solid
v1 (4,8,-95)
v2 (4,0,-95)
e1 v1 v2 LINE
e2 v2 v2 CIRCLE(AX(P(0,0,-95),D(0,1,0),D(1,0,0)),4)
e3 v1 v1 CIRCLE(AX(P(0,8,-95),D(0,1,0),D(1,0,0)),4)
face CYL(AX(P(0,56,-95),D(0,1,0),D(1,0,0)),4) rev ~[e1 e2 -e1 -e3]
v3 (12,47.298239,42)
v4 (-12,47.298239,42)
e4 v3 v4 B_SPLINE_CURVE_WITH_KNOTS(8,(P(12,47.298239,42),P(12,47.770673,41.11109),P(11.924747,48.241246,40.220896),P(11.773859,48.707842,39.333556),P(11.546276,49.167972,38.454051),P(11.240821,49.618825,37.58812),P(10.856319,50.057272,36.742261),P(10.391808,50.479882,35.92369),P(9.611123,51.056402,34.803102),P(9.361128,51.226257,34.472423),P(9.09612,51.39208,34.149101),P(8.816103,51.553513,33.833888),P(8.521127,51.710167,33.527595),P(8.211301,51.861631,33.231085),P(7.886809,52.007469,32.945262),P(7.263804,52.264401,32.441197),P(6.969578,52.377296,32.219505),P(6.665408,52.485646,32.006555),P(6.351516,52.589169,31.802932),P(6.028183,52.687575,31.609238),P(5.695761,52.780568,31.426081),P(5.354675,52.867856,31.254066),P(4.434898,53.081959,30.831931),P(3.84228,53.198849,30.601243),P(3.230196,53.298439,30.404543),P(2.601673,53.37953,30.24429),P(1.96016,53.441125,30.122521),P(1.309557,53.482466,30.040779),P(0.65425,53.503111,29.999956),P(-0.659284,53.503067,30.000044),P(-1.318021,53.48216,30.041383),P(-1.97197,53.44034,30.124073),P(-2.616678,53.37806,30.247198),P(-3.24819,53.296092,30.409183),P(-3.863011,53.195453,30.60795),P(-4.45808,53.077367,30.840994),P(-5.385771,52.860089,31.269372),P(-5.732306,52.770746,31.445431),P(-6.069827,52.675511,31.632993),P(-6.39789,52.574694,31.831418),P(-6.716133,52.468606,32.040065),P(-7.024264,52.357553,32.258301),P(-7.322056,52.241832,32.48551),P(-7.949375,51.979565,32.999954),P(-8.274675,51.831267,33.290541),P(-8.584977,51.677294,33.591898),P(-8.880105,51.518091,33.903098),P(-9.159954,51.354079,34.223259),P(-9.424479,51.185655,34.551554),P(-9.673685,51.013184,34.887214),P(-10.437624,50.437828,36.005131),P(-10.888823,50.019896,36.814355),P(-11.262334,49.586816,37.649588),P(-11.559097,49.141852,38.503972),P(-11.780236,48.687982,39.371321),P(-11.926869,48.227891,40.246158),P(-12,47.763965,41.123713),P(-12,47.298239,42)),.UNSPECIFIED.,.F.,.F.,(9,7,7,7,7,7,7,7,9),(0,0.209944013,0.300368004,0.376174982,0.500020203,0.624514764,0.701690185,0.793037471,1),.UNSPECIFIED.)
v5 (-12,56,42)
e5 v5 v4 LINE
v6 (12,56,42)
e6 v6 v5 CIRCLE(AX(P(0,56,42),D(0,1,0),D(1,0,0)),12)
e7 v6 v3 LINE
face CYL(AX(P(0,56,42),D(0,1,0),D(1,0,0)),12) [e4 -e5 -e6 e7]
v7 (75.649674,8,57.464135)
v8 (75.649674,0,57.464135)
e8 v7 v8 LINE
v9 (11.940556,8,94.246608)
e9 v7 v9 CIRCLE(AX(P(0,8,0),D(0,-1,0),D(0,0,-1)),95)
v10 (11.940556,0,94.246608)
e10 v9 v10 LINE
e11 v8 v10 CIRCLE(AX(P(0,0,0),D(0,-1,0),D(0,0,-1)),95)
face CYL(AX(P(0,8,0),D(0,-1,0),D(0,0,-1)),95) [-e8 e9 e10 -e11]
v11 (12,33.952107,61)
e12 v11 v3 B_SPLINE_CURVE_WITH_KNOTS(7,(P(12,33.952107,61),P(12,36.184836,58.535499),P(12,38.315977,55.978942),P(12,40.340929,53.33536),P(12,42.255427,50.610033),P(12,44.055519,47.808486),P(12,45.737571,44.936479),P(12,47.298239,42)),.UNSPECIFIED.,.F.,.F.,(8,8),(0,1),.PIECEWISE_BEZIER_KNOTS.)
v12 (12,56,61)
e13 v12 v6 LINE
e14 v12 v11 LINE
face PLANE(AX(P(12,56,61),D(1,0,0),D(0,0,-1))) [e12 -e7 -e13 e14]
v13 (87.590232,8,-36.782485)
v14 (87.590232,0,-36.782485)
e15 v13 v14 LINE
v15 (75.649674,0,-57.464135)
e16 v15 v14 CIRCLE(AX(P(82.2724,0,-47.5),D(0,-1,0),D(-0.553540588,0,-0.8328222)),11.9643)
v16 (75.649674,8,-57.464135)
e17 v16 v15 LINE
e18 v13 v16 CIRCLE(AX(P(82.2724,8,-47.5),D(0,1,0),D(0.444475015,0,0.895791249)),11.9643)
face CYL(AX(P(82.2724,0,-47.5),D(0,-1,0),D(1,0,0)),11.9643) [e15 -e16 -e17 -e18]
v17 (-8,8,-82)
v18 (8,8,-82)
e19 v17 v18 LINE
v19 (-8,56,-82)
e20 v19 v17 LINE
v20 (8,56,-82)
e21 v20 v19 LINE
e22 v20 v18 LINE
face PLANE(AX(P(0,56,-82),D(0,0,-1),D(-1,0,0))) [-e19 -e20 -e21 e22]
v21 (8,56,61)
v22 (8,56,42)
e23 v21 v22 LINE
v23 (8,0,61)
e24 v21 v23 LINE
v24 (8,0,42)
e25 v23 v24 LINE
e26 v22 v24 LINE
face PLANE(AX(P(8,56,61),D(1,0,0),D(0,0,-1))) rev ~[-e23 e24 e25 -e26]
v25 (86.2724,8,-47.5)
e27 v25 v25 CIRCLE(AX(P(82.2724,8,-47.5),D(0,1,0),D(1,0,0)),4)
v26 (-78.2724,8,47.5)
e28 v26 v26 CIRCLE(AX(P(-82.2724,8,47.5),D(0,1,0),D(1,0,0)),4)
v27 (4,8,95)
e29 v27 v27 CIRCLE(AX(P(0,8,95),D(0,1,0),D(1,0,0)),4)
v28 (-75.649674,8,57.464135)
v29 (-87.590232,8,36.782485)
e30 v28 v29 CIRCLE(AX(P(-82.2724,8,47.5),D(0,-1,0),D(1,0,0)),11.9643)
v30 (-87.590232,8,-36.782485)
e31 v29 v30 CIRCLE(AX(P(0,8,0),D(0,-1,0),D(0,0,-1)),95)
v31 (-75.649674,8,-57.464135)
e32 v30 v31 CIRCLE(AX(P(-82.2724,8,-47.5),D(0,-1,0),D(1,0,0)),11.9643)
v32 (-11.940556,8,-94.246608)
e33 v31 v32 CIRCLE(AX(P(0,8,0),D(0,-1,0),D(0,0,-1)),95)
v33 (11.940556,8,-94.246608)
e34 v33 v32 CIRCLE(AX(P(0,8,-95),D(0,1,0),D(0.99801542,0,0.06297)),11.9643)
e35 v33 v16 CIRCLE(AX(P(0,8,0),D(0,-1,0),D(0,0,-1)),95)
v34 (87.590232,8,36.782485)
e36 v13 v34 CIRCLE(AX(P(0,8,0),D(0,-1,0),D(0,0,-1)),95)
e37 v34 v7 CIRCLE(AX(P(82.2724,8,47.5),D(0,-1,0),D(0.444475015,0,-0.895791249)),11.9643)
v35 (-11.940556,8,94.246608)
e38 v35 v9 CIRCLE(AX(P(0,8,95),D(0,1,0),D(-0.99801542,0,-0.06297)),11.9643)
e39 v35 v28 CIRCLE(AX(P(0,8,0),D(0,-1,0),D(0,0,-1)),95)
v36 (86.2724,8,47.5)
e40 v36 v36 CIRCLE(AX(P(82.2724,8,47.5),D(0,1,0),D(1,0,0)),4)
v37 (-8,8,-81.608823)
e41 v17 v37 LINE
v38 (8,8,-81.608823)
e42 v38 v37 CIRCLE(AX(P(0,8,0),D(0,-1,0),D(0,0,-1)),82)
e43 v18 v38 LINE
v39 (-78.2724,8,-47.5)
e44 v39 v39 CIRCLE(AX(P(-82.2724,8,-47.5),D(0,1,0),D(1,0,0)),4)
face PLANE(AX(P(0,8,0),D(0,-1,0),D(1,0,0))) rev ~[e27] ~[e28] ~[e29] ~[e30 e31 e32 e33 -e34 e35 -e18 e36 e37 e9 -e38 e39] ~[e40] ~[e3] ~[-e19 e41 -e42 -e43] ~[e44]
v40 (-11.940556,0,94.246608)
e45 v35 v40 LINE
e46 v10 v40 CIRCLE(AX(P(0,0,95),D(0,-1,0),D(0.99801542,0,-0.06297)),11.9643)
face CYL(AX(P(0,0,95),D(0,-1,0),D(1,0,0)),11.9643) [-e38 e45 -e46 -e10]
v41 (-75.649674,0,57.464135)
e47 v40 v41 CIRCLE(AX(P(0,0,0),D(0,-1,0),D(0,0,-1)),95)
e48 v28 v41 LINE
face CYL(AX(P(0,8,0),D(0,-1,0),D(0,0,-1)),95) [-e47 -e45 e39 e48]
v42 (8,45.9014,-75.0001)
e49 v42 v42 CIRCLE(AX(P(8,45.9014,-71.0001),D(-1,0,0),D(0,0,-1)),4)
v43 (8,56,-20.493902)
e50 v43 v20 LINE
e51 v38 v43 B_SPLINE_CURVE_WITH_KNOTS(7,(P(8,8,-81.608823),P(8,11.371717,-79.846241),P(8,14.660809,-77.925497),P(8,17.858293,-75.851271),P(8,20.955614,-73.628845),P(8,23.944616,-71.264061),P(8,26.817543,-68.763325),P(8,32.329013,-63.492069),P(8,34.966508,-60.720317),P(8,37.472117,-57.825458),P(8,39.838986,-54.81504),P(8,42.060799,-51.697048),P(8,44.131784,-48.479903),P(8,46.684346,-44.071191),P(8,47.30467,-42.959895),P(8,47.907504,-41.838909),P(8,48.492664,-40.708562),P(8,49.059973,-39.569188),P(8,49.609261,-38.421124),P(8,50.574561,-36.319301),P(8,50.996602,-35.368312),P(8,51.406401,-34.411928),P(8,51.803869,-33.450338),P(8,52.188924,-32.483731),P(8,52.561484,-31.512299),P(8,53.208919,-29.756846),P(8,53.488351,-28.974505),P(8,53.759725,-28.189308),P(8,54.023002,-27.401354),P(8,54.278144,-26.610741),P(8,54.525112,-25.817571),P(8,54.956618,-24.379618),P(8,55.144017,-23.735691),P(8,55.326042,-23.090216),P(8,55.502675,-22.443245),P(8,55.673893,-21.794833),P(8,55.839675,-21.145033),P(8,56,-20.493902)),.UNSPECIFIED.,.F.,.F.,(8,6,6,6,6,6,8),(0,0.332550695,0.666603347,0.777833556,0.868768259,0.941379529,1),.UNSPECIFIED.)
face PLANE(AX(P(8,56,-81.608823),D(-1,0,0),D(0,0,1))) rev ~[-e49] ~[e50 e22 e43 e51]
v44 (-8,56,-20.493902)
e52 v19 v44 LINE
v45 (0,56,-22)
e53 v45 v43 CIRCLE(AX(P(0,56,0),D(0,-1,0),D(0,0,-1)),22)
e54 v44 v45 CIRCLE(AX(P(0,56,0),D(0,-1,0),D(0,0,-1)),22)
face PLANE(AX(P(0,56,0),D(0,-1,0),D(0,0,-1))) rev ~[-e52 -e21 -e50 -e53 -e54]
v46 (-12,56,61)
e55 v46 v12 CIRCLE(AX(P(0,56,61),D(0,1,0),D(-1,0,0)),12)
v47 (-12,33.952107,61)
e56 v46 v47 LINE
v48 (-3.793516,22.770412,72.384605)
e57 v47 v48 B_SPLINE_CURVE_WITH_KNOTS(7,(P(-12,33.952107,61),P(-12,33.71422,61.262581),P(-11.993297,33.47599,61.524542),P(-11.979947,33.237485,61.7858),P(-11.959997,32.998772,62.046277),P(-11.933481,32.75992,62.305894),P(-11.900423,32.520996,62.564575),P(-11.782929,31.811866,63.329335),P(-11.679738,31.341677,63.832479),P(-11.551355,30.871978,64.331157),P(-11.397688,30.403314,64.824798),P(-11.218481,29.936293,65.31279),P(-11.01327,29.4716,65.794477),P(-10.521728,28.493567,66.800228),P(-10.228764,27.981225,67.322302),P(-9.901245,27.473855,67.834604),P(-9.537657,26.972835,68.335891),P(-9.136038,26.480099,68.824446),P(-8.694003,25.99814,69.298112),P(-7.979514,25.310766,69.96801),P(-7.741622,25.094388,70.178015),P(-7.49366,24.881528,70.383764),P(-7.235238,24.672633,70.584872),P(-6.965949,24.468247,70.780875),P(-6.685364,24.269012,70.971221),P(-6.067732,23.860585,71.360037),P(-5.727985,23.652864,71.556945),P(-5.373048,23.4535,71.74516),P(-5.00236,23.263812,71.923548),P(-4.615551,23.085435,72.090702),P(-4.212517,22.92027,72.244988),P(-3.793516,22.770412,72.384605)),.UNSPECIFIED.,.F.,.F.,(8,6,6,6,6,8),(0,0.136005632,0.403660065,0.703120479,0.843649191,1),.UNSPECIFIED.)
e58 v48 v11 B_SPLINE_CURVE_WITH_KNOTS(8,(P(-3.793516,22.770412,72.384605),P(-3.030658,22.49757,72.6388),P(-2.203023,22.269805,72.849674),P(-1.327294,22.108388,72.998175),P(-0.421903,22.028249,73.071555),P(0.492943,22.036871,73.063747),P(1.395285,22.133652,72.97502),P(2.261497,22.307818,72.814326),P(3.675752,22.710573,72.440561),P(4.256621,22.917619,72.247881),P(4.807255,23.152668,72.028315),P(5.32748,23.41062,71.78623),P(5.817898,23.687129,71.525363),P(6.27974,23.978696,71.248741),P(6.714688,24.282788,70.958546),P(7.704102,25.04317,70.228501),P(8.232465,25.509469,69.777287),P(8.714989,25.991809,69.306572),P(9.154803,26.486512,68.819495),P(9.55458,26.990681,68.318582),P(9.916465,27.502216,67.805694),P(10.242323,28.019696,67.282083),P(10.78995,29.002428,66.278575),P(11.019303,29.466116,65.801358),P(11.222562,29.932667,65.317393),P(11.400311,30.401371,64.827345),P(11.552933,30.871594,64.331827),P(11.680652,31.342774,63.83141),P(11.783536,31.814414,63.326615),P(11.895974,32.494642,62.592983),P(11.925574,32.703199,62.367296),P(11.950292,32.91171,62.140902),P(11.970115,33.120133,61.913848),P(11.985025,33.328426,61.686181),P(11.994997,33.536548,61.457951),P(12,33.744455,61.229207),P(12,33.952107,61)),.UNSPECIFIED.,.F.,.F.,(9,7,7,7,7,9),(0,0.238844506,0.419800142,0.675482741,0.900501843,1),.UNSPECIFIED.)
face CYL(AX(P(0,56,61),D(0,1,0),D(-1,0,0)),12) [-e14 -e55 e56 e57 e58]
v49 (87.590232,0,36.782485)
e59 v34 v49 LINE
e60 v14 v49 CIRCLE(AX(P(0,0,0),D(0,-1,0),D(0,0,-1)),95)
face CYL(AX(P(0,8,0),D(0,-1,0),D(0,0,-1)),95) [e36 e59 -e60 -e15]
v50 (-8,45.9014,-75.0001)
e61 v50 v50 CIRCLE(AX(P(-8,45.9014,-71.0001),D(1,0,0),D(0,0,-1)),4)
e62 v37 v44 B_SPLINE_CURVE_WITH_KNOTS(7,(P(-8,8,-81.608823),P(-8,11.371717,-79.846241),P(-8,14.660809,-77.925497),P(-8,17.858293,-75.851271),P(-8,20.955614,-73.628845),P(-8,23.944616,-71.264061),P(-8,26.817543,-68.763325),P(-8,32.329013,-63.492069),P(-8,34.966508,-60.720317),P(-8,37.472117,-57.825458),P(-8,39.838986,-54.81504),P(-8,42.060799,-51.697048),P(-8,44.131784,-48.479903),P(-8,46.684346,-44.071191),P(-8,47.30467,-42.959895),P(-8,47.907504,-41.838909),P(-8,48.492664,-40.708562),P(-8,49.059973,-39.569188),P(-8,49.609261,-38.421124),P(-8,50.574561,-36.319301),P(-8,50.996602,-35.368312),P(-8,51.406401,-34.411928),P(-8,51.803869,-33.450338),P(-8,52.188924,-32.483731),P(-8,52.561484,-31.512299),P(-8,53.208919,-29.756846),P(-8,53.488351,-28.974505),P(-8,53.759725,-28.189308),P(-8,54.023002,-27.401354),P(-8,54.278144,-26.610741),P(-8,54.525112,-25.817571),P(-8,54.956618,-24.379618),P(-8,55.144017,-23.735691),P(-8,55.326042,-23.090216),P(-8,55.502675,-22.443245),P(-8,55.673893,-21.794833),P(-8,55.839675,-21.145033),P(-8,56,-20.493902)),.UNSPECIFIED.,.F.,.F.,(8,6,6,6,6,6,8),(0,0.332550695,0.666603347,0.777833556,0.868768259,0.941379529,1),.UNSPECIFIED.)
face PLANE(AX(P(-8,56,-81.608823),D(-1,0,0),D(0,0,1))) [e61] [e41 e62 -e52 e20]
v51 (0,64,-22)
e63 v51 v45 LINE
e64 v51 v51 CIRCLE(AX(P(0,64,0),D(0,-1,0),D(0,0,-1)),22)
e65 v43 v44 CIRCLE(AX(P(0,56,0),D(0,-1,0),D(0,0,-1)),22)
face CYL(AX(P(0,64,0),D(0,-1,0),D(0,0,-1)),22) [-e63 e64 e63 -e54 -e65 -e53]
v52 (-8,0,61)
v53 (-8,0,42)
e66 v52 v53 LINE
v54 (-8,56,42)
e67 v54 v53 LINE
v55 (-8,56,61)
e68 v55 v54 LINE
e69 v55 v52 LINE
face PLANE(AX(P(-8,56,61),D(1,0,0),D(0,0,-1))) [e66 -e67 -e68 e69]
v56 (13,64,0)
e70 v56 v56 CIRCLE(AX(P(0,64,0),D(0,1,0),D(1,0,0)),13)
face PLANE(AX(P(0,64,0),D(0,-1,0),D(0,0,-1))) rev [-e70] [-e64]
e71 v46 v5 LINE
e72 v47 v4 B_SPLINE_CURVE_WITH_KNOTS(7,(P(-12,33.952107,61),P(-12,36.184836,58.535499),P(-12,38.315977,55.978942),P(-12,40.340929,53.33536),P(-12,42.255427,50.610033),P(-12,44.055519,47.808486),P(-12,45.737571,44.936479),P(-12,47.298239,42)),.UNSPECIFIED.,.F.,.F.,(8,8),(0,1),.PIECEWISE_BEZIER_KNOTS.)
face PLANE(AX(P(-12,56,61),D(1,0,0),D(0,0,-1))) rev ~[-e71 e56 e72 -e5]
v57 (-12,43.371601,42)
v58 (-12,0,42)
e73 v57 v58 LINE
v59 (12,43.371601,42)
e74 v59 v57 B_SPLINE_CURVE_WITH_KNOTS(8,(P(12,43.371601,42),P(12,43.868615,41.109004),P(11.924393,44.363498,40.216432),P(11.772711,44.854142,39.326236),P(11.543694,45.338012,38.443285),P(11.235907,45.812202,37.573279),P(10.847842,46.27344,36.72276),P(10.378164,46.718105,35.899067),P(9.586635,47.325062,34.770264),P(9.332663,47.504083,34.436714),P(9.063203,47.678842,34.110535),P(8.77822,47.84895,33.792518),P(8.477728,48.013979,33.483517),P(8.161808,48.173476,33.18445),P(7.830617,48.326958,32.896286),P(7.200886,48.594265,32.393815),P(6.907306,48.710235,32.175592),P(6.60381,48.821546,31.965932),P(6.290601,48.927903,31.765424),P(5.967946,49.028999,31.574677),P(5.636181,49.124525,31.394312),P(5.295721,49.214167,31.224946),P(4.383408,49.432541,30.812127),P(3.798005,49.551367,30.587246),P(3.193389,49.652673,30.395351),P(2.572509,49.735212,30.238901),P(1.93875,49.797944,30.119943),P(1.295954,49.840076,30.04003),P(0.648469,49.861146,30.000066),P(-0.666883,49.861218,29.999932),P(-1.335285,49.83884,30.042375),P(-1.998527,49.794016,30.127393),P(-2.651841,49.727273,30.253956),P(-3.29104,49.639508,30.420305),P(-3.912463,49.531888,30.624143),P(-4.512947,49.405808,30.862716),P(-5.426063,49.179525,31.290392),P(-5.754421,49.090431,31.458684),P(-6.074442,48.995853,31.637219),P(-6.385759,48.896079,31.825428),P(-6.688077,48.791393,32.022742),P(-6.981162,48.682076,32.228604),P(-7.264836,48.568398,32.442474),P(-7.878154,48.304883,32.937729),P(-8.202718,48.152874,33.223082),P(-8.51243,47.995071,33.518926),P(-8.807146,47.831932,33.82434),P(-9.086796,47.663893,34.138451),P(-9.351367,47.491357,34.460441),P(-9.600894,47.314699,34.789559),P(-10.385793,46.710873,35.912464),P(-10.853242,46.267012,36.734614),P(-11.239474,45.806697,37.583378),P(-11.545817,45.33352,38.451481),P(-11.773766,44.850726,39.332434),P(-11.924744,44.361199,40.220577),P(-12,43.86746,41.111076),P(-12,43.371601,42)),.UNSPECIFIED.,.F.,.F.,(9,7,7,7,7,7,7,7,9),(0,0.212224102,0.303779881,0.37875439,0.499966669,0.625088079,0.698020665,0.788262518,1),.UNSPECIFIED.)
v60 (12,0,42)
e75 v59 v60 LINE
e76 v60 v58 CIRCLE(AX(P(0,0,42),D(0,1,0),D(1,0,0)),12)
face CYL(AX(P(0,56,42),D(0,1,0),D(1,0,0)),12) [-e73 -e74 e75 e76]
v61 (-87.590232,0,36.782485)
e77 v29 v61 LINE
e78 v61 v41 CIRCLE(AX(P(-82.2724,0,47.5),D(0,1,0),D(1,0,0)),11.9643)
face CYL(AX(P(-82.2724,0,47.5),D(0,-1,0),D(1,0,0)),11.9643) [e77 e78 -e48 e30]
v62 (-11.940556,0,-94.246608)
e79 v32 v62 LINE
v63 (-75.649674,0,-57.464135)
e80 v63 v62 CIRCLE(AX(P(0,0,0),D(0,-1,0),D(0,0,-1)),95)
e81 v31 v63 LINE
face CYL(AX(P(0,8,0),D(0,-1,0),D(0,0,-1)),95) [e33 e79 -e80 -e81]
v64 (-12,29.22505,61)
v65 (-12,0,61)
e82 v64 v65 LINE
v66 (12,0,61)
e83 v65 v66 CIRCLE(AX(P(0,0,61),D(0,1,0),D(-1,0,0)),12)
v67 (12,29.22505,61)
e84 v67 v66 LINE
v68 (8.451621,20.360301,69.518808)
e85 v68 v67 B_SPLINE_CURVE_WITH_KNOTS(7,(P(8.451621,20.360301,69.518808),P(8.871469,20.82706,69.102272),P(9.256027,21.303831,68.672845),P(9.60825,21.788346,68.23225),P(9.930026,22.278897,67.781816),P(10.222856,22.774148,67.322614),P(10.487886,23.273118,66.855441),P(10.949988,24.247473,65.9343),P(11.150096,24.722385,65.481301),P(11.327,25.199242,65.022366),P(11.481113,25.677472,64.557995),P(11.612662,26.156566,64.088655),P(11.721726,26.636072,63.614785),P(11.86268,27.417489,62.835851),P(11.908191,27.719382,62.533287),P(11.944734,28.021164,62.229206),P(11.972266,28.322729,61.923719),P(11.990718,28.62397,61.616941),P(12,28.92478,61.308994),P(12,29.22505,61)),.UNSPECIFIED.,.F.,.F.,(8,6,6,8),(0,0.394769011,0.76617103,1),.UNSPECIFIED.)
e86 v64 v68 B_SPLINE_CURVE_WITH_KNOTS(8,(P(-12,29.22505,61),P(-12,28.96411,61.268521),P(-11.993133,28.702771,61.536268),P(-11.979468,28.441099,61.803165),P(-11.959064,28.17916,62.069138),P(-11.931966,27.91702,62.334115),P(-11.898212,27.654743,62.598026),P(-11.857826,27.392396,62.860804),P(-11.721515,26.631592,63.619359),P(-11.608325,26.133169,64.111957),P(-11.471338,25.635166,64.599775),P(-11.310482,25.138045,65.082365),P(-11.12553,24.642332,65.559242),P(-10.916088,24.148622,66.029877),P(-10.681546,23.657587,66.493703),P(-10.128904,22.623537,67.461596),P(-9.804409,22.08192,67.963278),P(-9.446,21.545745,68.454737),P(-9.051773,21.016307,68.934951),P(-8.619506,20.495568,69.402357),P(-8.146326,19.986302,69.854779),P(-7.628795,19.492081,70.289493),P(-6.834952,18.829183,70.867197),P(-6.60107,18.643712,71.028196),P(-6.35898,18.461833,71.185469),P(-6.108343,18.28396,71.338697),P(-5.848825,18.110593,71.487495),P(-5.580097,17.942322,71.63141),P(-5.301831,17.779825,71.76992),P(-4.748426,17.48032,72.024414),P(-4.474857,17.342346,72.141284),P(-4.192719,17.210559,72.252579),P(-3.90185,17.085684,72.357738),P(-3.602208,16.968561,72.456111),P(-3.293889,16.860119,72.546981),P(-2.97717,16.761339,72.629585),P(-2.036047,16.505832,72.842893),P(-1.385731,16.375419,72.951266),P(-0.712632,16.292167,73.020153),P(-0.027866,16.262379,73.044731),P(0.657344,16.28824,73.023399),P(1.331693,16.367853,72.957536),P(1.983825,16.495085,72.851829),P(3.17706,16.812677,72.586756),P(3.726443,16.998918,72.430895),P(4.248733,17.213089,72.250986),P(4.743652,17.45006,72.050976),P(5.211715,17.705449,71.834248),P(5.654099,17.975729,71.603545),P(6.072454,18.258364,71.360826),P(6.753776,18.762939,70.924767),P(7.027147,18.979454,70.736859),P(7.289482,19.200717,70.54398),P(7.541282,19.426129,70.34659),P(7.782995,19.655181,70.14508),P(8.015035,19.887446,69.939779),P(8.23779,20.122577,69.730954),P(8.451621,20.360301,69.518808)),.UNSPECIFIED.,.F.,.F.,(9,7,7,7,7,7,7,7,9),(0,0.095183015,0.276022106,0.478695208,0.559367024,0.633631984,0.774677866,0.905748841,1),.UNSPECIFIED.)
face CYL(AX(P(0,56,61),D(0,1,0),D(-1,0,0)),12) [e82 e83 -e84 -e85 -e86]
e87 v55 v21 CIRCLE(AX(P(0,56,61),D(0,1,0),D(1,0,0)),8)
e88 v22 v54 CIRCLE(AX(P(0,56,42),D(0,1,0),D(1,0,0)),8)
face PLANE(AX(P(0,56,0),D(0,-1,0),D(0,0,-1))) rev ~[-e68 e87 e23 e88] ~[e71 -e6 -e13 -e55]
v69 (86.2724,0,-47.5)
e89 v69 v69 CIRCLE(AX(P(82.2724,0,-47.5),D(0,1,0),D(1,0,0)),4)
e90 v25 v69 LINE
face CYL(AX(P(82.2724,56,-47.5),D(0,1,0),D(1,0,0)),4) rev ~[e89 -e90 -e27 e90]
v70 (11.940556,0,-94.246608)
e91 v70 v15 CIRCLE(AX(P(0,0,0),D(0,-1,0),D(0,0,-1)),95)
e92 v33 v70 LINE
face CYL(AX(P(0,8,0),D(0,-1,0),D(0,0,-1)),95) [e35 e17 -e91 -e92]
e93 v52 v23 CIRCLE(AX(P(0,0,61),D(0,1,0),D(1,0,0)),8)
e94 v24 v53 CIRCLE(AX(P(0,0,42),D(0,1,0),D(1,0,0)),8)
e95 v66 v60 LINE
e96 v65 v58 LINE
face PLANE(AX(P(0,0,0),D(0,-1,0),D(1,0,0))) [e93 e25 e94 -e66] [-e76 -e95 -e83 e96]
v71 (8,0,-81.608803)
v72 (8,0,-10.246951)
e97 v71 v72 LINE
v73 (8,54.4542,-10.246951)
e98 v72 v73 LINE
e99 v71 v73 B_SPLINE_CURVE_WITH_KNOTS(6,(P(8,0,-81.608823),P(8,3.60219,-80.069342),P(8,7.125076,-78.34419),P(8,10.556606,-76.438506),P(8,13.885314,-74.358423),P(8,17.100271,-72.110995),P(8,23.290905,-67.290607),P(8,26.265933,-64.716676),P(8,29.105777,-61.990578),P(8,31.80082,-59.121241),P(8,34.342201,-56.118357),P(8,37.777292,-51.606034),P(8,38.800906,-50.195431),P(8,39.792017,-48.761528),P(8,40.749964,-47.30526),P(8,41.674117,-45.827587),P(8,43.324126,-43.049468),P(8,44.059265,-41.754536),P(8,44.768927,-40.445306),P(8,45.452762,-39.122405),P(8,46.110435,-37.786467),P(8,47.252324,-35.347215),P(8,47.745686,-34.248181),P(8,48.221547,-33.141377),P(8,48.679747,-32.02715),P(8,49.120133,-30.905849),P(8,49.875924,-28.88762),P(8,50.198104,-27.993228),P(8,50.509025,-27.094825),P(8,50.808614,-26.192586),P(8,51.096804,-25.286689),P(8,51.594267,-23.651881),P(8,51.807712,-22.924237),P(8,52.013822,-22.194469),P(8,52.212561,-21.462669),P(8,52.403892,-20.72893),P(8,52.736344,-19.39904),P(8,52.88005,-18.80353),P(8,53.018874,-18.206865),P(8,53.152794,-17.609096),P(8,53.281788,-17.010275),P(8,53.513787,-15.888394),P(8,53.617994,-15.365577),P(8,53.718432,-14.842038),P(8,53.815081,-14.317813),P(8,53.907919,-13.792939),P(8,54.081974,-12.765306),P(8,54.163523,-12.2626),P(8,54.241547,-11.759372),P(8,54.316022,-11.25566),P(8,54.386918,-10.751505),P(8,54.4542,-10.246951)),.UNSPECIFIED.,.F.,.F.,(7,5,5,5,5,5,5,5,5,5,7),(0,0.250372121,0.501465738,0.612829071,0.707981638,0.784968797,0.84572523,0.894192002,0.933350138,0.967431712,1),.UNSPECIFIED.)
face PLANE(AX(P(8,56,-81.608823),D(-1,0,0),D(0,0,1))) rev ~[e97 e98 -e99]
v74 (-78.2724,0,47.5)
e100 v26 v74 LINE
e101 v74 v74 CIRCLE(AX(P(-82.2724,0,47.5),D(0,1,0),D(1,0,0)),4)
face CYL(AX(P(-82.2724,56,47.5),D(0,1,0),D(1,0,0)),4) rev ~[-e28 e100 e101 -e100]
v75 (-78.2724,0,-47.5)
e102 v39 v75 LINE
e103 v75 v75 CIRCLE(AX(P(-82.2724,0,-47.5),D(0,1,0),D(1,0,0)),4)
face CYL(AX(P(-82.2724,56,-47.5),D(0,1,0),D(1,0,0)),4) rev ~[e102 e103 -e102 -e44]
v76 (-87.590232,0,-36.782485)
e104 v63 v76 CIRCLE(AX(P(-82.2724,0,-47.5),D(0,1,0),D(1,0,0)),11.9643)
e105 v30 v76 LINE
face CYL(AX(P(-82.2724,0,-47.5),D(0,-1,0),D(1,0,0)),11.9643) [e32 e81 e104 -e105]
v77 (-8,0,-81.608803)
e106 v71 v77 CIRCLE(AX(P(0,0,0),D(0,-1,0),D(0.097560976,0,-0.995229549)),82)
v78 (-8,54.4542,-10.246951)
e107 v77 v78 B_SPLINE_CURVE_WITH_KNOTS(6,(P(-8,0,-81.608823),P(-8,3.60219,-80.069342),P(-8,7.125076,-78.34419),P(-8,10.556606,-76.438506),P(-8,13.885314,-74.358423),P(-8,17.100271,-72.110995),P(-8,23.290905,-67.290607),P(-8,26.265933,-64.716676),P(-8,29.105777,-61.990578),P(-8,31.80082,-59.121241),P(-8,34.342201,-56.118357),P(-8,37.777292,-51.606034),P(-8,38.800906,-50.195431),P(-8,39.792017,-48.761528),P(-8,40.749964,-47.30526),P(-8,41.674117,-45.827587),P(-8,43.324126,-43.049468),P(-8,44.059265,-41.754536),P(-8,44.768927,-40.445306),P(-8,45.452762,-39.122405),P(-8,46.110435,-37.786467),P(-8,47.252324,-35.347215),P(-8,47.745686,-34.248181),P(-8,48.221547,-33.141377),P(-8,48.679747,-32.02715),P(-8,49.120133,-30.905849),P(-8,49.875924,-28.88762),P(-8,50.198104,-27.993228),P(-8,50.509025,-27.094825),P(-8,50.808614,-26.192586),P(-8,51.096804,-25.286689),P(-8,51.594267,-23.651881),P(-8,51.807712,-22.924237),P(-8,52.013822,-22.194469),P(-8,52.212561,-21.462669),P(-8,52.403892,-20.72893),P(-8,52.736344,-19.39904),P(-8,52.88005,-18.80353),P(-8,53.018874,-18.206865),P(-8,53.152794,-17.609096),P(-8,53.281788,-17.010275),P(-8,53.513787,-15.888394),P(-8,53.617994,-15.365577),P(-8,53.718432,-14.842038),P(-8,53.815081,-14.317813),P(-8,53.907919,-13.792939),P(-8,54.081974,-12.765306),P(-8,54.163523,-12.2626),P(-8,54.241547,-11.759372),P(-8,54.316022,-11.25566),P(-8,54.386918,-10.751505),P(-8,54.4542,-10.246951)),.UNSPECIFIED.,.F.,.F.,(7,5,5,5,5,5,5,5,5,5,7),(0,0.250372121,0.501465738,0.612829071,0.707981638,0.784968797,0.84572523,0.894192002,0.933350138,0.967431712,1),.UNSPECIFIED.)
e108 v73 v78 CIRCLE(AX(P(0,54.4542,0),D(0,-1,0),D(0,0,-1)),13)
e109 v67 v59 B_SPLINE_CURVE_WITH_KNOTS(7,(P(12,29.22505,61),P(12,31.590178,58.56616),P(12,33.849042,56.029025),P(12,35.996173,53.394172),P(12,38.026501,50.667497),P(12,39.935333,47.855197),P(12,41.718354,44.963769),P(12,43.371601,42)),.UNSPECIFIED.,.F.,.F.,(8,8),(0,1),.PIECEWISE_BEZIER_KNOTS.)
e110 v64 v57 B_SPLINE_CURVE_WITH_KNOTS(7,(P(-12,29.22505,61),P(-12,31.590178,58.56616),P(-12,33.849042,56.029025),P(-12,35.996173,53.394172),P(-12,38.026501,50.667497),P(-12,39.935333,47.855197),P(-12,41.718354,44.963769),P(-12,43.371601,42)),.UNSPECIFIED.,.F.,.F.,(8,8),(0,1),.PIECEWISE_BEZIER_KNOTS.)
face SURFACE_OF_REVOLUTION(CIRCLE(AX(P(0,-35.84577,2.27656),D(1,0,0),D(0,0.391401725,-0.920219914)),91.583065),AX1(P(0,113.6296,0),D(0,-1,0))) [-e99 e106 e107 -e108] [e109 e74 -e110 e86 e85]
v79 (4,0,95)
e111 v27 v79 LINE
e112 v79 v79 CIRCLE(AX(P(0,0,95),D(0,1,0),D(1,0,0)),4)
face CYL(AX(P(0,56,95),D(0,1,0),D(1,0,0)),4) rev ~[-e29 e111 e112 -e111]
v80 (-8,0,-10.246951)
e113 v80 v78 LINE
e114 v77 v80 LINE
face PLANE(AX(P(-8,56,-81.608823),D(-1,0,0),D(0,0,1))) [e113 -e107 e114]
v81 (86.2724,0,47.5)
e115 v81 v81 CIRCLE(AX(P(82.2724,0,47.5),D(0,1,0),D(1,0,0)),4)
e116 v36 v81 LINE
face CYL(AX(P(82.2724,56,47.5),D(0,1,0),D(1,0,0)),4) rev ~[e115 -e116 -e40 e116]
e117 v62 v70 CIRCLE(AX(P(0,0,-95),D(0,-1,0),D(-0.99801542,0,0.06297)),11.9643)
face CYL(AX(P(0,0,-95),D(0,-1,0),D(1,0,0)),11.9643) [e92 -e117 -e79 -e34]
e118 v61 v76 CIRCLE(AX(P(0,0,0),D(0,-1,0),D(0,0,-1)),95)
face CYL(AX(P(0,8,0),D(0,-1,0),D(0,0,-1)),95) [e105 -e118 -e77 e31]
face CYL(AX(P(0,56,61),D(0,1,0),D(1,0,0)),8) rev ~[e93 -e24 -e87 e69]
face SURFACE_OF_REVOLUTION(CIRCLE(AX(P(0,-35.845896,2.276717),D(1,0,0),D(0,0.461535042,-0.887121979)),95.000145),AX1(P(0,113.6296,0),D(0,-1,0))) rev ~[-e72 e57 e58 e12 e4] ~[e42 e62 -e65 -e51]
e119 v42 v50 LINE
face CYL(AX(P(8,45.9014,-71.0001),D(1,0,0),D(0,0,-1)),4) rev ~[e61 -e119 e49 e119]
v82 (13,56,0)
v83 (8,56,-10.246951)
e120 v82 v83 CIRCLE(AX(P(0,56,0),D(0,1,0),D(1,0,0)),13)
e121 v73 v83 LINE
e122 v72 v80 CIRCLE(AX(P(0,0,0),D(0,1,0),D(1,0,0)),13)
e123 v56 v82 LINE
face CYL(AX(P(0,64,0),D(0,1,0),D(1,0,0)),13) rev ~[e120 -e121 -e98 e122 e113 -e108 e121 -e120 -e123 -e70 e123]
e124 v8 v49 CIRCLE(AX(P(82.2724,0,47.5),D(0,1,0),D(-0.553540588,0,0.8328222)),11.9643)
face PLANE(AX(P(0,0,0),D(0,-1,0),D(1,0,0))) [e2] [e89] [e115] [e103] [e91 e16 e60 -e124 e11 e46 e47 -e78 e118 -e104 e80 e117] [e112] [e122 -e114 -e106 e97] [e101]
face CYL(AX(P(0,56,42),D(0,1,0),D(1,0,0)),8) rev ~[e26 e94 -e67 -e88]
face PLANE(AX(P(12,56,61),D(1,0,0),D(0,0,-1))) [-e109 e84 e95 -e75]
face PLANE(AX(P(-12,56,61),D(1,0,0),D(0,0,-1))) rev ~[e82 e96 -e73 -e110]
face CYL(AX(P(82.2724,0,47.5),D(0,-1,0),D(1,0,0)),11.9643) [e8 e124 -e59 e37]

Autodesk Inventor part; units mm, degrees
ref_plane "YZ Plane" through (0, 0, 0) normal (1, 0, 0) x (0, 1, 0)
ref_plane "XZ Plane" through (0, 0, 0) normal (0, 1, 0) x (-1, 0, 0)
ref_plane "XY Plane" through (0, 0, 0) normal (0, 0, 1) x (1, 0, 0)
sketch "Sketch1" plane through (0, 0, 0) normal (1, 0, 0) x (0, 1, 0)
  line L0 (0, 0) -> (64, 0)
  line L1 (0, 0) -> (56, 0)
  line L2 (0, 0) -> (8, 0)
  line L3 (0, 0) -> (0, -95)
  line L4 (0, 0) -> (0, -82)
  line L5 (0, 0) -> (6, 0)
  line L6 (64, 0) -> (64, -13)
  line L7 (64, -13) -> (64, -22)
  line L8 (56, 0) -> (56, -13) construction
  line L9 (56, -22) -> (64, -22) construction
  line L10 (56, -22) -> (56, -95) construction
  line L11 (56, -95) -> (0, -95) construction
  line L12 (64, -22) -> (56, -22)
  line L13 (0, -95) -> (0, -107)
  line L14 (0, -107) -> (8, -107)
  line L15 (8, -107) -> (8, -95)
  line L16 (113.6296, 0) -> (-73.0224, 0)
  line L17 (0, -82) -> (56, -82) construction
  line L18 (8, -95) -> (8, -82)
  line L19 (56, -82) -> (8, -82)
  line L20 (56, -82) -> (56, -22)
  line L21 (8, -95) -> (0, -95)
  arc A0 (0, -85.7011) -> (56, -22) centre (-35.8458, 2.2766) ccw construction
  line L22 (0, -82) -> (0, -85.7011)
  line L23 (56, -22) -> (56, -30)
  line L24 (56, -13) -> (56, 0) construction
  arc A1 (0, -82) -> (54.4542, -13) centre (-35.8458, 2.2766) ccw construction
  line L25 (64, -13) -> (54.4542, -13)
  line L26 (56, -22) -> (56, 0) construction
  arc A2 (8, -82) -> (56, -22) centre (-35.8458, 2.2766) ccw
  line L27 (-35.8458, 2.2766) -> (-35.8458, 0)
  arc A3 (0, -82) -> (54.4542, -13) centre (-35.8458, 2.2766) ccw
  line L28 (8, -82) -> (0, -82)
  point P0 (-35.8458, 1.1383)
  point P1 (8, -82)
  point P2 (8, -82)
  dimension "d0" = 64
  dimension "d1" = 56
  dimension "d2" = 8
  dimension "d3" = 95
  dimension "d4" = 82
  dimension "d5" = 6
  dimension "d6" = 13
  dimension "d7" = 9
  dimension "d12" = 12
ref_plane "Work Plane3" through (0, 0, 0) normal (0, -1, 0) x (1, 0, 0)
sketch "Sketch3" plane through (0, 0, 0) normal (0, -1, 0) x (1, 0, 0)
  circle A0 centre (0, 0) radius 95 projected
  circle A1 centre (0, -95) radius 11.9643
  circle A2 centre (82.2724, -47.5) radius 11.9643
  circle A3 centre (82.2724, 47.5) radius 11.9643
  circle A4 centre (0, 95) radius 11.9643
  circle A5 centre (-82.2724, 47.5) radius 11.9643
  circle A6 centre (-82.2724, -47.5) radius 11.9643
  dimension "d15" = 360
ref_plane "Work Plane1" through (0, 56, 0) normal (0, 1, 0) x (1, 0, 0)
extrude "Extrusion2" add sketch "Sketch3" against normal blind 8 contours A3 A0 | A0 A3 | A2 A0 | A0 A2 | A4 A0 | A0 A4 | A1 A0 | A0 A1 | A5 A0 | A0 A5 | A6 A0 | A0 A6
revolve "Revolution2" add sketch "Sketch1" angle 360 about axis through (0, 113.6296, 0) along (0, -1, 0) contours L0 L6 L25 A3 L3 | L28 L18 L21 L3 | A3 L25 L7 L12 A2 L28 | A2 L20 L19
sketch "Sketch5" plane through (0, 56, 0) normal (0, 1, 0) x (1, 0, 0)
  arc A0 (-75.6497, 57.4641) -> (-87.5902, 36.7825) centre (-82.2724, 47.5) ccw projected
  circle A1 centre (-82.2724, 47.5) radius 4
  circle A2 centre (-82.2724, -47.5) radius 4
  circle A3 centre (0, -95) radius 4
  circle A4 centre (82.2724, -47.5) radius 4
  circle A5 centre (82.2724, 47.5) radius 4
  circle A6 centre (0, 95) radius 4
  point P0 (0, 0)
  dimension "d20" = 8
  dimension "d23" = 360
extrude "Extrusion3" cut sketch "Sketch5" against normal blind 64
sketch "Sketch8" plane through (0, 64, 0) normal (0, 1, 0) x (1, 0, 0)
  circle A0 centre (0, 0) radius 13
  dimension "d39" = 26
extrude "Extrusion4" cut sketch "Sketch8" against normal blind 64
sketch "Sketch9" plane through (0, 56, 0) normal (0, 1, 0) x (1, 0, 0)
  circle A0 centre (0, 0) radius 82 projected
  line L0 (0, 82) -> (67.9153, 82) construction
  line L1 (0, 82) -> (8, 82)
  line L2 (-82, 0) -> (82, 0)
  line L3 (8, 82) -> (8, 0)
  line L4 (8, 82) -> (-8, 82)
  line L5 (-8, 82) -> (-8, 0)
  line L6 (0, 0) -> (0, -42) construction
  line L7 (0, -42) -> (0, -61) construction
  circle A1 centre (0, -42) radius 12 construction
  circle A2 centre (0, -42) radius 8 construction
  circle A3 centre (0, -61) radius 12 construction
  circle A4 centre (0, -61) radius 8 construction
  line L8 (-12, -61) -> (-12, -42)
  line L9 (12, -61) -> (12, -42)
  line L10 (-12, -61) -> (12, -61) construction
  line L11 (-12, -42) -> (12, -42) construction
  arc A5 (-12, -61) -> (12, -61) centre (0, -61) ccw
  arc A6 (12, -42) -> (-12, -42) centre (0, -42) ccw
  arc A7 (8, -42) -> (-8, -42) centre (0, -42) ccw
  arc A8 (-8, -61) -> (8, -61) centre (0, -61) ccw
  line L12 (-8, -61) -> (-8, -42)
  line L13 (8, -61) -> (8, -42)
  point P0 (8, 81.6088)
  point P1 (-8, 81.6088)
  dimension "d42" = 8
  dimension "d43" = 16
  dimension "d44" = 42
  dimension "d45" = 19
  dimension "d46" = 24
  dimension "d47" = 16
  dimension "d48" = 24
  dimension "d49" = 16
extrude "Extrusion5" cut sketch "Sketch9" against normal blind 56 contours L2 A0 | A0 L5 L2 | L2 L3 A0
revolve "Revolution3" add sketch "Sketch1" angle 360 about axis through (0, 113.6296, 0) along (0, -1, 0) contours A3 L25 L7 L12 A2 L28
sketch "Sketch10" plane through (0, 56, 61) normal (0, 1, 0) x (1, 0, 0)
  circle A0 centre (0, 0) radius 8
  arc A1 (12, 19) -> (-12, 19) centre (0, 19) ccw projected
  circle A2 centre (0, 19) radius 8
  line L0 (-8, 0) -> (-8, 19)
  line L1 (8, 0) -> (8, 19)
  arc A3 (-12, 0) -> (12, 0) centre (0, 0) ccw projected
  line L2 (0, 0) -> (0, 19)
  line L3 (-8, 0) -> (8, 0)
  point P0 (0, 61)
  dimension "d54" = 16
  dimension "d55" = 16
extrude "Extrusion6" cut sketch "Sketch10" against normal blind 56
sketch "Sketch11" plane through (8, 56, -20.4939) normal (1, 0, 0) x (0, 0, -1)
  point P0 (-20.4939, -56)
sketch "Sketch12" plane through (0, 56, 0) normal (0, 1, 0) x (1, 0, 0)
  arc A0 (8, 81.6088) -> (-8, 81.6088) centre (0, 0) ccw projected
  line L0 (0, 82) -> (-26.239, 82)
  line L1 (-26.239, 82) -> (20.0179, 82)
  line L2 (8, 81.6088) -> (8, 82)
  line L3 (-8, 81.6088) -> (-8, 82)
  circle A1 centre (0, 0) radius 82
extrude "Extrusion7" add sketch "Sketch12" against normal blind 56 contours A0 L1 L2 | A0 L3 L0
sketch "Sketch13" plane through (8, 56, -20.4939) normal (1, 0, 0) x (0, 0, -1)
  line L0 (61.4732, -0.0625) -> (61.5061, -10.0624)
  line L1 (61.5061, 0) -> (61.5061, -48) projected
  line L2 (61.5061, -10.0624) -> (50.5062, -10.0986)
  circle A0 centre (50.5062, -10.0986) radius 4
  point P0 (-20.4939, -56)
  dimension "d60" = 10
  dimension "d61" = 11
  dimension "d62" = 8
extrude "Extrusion8" cut sketch "Sketch13" against normal blind 56
properties part number "Bai_11"
